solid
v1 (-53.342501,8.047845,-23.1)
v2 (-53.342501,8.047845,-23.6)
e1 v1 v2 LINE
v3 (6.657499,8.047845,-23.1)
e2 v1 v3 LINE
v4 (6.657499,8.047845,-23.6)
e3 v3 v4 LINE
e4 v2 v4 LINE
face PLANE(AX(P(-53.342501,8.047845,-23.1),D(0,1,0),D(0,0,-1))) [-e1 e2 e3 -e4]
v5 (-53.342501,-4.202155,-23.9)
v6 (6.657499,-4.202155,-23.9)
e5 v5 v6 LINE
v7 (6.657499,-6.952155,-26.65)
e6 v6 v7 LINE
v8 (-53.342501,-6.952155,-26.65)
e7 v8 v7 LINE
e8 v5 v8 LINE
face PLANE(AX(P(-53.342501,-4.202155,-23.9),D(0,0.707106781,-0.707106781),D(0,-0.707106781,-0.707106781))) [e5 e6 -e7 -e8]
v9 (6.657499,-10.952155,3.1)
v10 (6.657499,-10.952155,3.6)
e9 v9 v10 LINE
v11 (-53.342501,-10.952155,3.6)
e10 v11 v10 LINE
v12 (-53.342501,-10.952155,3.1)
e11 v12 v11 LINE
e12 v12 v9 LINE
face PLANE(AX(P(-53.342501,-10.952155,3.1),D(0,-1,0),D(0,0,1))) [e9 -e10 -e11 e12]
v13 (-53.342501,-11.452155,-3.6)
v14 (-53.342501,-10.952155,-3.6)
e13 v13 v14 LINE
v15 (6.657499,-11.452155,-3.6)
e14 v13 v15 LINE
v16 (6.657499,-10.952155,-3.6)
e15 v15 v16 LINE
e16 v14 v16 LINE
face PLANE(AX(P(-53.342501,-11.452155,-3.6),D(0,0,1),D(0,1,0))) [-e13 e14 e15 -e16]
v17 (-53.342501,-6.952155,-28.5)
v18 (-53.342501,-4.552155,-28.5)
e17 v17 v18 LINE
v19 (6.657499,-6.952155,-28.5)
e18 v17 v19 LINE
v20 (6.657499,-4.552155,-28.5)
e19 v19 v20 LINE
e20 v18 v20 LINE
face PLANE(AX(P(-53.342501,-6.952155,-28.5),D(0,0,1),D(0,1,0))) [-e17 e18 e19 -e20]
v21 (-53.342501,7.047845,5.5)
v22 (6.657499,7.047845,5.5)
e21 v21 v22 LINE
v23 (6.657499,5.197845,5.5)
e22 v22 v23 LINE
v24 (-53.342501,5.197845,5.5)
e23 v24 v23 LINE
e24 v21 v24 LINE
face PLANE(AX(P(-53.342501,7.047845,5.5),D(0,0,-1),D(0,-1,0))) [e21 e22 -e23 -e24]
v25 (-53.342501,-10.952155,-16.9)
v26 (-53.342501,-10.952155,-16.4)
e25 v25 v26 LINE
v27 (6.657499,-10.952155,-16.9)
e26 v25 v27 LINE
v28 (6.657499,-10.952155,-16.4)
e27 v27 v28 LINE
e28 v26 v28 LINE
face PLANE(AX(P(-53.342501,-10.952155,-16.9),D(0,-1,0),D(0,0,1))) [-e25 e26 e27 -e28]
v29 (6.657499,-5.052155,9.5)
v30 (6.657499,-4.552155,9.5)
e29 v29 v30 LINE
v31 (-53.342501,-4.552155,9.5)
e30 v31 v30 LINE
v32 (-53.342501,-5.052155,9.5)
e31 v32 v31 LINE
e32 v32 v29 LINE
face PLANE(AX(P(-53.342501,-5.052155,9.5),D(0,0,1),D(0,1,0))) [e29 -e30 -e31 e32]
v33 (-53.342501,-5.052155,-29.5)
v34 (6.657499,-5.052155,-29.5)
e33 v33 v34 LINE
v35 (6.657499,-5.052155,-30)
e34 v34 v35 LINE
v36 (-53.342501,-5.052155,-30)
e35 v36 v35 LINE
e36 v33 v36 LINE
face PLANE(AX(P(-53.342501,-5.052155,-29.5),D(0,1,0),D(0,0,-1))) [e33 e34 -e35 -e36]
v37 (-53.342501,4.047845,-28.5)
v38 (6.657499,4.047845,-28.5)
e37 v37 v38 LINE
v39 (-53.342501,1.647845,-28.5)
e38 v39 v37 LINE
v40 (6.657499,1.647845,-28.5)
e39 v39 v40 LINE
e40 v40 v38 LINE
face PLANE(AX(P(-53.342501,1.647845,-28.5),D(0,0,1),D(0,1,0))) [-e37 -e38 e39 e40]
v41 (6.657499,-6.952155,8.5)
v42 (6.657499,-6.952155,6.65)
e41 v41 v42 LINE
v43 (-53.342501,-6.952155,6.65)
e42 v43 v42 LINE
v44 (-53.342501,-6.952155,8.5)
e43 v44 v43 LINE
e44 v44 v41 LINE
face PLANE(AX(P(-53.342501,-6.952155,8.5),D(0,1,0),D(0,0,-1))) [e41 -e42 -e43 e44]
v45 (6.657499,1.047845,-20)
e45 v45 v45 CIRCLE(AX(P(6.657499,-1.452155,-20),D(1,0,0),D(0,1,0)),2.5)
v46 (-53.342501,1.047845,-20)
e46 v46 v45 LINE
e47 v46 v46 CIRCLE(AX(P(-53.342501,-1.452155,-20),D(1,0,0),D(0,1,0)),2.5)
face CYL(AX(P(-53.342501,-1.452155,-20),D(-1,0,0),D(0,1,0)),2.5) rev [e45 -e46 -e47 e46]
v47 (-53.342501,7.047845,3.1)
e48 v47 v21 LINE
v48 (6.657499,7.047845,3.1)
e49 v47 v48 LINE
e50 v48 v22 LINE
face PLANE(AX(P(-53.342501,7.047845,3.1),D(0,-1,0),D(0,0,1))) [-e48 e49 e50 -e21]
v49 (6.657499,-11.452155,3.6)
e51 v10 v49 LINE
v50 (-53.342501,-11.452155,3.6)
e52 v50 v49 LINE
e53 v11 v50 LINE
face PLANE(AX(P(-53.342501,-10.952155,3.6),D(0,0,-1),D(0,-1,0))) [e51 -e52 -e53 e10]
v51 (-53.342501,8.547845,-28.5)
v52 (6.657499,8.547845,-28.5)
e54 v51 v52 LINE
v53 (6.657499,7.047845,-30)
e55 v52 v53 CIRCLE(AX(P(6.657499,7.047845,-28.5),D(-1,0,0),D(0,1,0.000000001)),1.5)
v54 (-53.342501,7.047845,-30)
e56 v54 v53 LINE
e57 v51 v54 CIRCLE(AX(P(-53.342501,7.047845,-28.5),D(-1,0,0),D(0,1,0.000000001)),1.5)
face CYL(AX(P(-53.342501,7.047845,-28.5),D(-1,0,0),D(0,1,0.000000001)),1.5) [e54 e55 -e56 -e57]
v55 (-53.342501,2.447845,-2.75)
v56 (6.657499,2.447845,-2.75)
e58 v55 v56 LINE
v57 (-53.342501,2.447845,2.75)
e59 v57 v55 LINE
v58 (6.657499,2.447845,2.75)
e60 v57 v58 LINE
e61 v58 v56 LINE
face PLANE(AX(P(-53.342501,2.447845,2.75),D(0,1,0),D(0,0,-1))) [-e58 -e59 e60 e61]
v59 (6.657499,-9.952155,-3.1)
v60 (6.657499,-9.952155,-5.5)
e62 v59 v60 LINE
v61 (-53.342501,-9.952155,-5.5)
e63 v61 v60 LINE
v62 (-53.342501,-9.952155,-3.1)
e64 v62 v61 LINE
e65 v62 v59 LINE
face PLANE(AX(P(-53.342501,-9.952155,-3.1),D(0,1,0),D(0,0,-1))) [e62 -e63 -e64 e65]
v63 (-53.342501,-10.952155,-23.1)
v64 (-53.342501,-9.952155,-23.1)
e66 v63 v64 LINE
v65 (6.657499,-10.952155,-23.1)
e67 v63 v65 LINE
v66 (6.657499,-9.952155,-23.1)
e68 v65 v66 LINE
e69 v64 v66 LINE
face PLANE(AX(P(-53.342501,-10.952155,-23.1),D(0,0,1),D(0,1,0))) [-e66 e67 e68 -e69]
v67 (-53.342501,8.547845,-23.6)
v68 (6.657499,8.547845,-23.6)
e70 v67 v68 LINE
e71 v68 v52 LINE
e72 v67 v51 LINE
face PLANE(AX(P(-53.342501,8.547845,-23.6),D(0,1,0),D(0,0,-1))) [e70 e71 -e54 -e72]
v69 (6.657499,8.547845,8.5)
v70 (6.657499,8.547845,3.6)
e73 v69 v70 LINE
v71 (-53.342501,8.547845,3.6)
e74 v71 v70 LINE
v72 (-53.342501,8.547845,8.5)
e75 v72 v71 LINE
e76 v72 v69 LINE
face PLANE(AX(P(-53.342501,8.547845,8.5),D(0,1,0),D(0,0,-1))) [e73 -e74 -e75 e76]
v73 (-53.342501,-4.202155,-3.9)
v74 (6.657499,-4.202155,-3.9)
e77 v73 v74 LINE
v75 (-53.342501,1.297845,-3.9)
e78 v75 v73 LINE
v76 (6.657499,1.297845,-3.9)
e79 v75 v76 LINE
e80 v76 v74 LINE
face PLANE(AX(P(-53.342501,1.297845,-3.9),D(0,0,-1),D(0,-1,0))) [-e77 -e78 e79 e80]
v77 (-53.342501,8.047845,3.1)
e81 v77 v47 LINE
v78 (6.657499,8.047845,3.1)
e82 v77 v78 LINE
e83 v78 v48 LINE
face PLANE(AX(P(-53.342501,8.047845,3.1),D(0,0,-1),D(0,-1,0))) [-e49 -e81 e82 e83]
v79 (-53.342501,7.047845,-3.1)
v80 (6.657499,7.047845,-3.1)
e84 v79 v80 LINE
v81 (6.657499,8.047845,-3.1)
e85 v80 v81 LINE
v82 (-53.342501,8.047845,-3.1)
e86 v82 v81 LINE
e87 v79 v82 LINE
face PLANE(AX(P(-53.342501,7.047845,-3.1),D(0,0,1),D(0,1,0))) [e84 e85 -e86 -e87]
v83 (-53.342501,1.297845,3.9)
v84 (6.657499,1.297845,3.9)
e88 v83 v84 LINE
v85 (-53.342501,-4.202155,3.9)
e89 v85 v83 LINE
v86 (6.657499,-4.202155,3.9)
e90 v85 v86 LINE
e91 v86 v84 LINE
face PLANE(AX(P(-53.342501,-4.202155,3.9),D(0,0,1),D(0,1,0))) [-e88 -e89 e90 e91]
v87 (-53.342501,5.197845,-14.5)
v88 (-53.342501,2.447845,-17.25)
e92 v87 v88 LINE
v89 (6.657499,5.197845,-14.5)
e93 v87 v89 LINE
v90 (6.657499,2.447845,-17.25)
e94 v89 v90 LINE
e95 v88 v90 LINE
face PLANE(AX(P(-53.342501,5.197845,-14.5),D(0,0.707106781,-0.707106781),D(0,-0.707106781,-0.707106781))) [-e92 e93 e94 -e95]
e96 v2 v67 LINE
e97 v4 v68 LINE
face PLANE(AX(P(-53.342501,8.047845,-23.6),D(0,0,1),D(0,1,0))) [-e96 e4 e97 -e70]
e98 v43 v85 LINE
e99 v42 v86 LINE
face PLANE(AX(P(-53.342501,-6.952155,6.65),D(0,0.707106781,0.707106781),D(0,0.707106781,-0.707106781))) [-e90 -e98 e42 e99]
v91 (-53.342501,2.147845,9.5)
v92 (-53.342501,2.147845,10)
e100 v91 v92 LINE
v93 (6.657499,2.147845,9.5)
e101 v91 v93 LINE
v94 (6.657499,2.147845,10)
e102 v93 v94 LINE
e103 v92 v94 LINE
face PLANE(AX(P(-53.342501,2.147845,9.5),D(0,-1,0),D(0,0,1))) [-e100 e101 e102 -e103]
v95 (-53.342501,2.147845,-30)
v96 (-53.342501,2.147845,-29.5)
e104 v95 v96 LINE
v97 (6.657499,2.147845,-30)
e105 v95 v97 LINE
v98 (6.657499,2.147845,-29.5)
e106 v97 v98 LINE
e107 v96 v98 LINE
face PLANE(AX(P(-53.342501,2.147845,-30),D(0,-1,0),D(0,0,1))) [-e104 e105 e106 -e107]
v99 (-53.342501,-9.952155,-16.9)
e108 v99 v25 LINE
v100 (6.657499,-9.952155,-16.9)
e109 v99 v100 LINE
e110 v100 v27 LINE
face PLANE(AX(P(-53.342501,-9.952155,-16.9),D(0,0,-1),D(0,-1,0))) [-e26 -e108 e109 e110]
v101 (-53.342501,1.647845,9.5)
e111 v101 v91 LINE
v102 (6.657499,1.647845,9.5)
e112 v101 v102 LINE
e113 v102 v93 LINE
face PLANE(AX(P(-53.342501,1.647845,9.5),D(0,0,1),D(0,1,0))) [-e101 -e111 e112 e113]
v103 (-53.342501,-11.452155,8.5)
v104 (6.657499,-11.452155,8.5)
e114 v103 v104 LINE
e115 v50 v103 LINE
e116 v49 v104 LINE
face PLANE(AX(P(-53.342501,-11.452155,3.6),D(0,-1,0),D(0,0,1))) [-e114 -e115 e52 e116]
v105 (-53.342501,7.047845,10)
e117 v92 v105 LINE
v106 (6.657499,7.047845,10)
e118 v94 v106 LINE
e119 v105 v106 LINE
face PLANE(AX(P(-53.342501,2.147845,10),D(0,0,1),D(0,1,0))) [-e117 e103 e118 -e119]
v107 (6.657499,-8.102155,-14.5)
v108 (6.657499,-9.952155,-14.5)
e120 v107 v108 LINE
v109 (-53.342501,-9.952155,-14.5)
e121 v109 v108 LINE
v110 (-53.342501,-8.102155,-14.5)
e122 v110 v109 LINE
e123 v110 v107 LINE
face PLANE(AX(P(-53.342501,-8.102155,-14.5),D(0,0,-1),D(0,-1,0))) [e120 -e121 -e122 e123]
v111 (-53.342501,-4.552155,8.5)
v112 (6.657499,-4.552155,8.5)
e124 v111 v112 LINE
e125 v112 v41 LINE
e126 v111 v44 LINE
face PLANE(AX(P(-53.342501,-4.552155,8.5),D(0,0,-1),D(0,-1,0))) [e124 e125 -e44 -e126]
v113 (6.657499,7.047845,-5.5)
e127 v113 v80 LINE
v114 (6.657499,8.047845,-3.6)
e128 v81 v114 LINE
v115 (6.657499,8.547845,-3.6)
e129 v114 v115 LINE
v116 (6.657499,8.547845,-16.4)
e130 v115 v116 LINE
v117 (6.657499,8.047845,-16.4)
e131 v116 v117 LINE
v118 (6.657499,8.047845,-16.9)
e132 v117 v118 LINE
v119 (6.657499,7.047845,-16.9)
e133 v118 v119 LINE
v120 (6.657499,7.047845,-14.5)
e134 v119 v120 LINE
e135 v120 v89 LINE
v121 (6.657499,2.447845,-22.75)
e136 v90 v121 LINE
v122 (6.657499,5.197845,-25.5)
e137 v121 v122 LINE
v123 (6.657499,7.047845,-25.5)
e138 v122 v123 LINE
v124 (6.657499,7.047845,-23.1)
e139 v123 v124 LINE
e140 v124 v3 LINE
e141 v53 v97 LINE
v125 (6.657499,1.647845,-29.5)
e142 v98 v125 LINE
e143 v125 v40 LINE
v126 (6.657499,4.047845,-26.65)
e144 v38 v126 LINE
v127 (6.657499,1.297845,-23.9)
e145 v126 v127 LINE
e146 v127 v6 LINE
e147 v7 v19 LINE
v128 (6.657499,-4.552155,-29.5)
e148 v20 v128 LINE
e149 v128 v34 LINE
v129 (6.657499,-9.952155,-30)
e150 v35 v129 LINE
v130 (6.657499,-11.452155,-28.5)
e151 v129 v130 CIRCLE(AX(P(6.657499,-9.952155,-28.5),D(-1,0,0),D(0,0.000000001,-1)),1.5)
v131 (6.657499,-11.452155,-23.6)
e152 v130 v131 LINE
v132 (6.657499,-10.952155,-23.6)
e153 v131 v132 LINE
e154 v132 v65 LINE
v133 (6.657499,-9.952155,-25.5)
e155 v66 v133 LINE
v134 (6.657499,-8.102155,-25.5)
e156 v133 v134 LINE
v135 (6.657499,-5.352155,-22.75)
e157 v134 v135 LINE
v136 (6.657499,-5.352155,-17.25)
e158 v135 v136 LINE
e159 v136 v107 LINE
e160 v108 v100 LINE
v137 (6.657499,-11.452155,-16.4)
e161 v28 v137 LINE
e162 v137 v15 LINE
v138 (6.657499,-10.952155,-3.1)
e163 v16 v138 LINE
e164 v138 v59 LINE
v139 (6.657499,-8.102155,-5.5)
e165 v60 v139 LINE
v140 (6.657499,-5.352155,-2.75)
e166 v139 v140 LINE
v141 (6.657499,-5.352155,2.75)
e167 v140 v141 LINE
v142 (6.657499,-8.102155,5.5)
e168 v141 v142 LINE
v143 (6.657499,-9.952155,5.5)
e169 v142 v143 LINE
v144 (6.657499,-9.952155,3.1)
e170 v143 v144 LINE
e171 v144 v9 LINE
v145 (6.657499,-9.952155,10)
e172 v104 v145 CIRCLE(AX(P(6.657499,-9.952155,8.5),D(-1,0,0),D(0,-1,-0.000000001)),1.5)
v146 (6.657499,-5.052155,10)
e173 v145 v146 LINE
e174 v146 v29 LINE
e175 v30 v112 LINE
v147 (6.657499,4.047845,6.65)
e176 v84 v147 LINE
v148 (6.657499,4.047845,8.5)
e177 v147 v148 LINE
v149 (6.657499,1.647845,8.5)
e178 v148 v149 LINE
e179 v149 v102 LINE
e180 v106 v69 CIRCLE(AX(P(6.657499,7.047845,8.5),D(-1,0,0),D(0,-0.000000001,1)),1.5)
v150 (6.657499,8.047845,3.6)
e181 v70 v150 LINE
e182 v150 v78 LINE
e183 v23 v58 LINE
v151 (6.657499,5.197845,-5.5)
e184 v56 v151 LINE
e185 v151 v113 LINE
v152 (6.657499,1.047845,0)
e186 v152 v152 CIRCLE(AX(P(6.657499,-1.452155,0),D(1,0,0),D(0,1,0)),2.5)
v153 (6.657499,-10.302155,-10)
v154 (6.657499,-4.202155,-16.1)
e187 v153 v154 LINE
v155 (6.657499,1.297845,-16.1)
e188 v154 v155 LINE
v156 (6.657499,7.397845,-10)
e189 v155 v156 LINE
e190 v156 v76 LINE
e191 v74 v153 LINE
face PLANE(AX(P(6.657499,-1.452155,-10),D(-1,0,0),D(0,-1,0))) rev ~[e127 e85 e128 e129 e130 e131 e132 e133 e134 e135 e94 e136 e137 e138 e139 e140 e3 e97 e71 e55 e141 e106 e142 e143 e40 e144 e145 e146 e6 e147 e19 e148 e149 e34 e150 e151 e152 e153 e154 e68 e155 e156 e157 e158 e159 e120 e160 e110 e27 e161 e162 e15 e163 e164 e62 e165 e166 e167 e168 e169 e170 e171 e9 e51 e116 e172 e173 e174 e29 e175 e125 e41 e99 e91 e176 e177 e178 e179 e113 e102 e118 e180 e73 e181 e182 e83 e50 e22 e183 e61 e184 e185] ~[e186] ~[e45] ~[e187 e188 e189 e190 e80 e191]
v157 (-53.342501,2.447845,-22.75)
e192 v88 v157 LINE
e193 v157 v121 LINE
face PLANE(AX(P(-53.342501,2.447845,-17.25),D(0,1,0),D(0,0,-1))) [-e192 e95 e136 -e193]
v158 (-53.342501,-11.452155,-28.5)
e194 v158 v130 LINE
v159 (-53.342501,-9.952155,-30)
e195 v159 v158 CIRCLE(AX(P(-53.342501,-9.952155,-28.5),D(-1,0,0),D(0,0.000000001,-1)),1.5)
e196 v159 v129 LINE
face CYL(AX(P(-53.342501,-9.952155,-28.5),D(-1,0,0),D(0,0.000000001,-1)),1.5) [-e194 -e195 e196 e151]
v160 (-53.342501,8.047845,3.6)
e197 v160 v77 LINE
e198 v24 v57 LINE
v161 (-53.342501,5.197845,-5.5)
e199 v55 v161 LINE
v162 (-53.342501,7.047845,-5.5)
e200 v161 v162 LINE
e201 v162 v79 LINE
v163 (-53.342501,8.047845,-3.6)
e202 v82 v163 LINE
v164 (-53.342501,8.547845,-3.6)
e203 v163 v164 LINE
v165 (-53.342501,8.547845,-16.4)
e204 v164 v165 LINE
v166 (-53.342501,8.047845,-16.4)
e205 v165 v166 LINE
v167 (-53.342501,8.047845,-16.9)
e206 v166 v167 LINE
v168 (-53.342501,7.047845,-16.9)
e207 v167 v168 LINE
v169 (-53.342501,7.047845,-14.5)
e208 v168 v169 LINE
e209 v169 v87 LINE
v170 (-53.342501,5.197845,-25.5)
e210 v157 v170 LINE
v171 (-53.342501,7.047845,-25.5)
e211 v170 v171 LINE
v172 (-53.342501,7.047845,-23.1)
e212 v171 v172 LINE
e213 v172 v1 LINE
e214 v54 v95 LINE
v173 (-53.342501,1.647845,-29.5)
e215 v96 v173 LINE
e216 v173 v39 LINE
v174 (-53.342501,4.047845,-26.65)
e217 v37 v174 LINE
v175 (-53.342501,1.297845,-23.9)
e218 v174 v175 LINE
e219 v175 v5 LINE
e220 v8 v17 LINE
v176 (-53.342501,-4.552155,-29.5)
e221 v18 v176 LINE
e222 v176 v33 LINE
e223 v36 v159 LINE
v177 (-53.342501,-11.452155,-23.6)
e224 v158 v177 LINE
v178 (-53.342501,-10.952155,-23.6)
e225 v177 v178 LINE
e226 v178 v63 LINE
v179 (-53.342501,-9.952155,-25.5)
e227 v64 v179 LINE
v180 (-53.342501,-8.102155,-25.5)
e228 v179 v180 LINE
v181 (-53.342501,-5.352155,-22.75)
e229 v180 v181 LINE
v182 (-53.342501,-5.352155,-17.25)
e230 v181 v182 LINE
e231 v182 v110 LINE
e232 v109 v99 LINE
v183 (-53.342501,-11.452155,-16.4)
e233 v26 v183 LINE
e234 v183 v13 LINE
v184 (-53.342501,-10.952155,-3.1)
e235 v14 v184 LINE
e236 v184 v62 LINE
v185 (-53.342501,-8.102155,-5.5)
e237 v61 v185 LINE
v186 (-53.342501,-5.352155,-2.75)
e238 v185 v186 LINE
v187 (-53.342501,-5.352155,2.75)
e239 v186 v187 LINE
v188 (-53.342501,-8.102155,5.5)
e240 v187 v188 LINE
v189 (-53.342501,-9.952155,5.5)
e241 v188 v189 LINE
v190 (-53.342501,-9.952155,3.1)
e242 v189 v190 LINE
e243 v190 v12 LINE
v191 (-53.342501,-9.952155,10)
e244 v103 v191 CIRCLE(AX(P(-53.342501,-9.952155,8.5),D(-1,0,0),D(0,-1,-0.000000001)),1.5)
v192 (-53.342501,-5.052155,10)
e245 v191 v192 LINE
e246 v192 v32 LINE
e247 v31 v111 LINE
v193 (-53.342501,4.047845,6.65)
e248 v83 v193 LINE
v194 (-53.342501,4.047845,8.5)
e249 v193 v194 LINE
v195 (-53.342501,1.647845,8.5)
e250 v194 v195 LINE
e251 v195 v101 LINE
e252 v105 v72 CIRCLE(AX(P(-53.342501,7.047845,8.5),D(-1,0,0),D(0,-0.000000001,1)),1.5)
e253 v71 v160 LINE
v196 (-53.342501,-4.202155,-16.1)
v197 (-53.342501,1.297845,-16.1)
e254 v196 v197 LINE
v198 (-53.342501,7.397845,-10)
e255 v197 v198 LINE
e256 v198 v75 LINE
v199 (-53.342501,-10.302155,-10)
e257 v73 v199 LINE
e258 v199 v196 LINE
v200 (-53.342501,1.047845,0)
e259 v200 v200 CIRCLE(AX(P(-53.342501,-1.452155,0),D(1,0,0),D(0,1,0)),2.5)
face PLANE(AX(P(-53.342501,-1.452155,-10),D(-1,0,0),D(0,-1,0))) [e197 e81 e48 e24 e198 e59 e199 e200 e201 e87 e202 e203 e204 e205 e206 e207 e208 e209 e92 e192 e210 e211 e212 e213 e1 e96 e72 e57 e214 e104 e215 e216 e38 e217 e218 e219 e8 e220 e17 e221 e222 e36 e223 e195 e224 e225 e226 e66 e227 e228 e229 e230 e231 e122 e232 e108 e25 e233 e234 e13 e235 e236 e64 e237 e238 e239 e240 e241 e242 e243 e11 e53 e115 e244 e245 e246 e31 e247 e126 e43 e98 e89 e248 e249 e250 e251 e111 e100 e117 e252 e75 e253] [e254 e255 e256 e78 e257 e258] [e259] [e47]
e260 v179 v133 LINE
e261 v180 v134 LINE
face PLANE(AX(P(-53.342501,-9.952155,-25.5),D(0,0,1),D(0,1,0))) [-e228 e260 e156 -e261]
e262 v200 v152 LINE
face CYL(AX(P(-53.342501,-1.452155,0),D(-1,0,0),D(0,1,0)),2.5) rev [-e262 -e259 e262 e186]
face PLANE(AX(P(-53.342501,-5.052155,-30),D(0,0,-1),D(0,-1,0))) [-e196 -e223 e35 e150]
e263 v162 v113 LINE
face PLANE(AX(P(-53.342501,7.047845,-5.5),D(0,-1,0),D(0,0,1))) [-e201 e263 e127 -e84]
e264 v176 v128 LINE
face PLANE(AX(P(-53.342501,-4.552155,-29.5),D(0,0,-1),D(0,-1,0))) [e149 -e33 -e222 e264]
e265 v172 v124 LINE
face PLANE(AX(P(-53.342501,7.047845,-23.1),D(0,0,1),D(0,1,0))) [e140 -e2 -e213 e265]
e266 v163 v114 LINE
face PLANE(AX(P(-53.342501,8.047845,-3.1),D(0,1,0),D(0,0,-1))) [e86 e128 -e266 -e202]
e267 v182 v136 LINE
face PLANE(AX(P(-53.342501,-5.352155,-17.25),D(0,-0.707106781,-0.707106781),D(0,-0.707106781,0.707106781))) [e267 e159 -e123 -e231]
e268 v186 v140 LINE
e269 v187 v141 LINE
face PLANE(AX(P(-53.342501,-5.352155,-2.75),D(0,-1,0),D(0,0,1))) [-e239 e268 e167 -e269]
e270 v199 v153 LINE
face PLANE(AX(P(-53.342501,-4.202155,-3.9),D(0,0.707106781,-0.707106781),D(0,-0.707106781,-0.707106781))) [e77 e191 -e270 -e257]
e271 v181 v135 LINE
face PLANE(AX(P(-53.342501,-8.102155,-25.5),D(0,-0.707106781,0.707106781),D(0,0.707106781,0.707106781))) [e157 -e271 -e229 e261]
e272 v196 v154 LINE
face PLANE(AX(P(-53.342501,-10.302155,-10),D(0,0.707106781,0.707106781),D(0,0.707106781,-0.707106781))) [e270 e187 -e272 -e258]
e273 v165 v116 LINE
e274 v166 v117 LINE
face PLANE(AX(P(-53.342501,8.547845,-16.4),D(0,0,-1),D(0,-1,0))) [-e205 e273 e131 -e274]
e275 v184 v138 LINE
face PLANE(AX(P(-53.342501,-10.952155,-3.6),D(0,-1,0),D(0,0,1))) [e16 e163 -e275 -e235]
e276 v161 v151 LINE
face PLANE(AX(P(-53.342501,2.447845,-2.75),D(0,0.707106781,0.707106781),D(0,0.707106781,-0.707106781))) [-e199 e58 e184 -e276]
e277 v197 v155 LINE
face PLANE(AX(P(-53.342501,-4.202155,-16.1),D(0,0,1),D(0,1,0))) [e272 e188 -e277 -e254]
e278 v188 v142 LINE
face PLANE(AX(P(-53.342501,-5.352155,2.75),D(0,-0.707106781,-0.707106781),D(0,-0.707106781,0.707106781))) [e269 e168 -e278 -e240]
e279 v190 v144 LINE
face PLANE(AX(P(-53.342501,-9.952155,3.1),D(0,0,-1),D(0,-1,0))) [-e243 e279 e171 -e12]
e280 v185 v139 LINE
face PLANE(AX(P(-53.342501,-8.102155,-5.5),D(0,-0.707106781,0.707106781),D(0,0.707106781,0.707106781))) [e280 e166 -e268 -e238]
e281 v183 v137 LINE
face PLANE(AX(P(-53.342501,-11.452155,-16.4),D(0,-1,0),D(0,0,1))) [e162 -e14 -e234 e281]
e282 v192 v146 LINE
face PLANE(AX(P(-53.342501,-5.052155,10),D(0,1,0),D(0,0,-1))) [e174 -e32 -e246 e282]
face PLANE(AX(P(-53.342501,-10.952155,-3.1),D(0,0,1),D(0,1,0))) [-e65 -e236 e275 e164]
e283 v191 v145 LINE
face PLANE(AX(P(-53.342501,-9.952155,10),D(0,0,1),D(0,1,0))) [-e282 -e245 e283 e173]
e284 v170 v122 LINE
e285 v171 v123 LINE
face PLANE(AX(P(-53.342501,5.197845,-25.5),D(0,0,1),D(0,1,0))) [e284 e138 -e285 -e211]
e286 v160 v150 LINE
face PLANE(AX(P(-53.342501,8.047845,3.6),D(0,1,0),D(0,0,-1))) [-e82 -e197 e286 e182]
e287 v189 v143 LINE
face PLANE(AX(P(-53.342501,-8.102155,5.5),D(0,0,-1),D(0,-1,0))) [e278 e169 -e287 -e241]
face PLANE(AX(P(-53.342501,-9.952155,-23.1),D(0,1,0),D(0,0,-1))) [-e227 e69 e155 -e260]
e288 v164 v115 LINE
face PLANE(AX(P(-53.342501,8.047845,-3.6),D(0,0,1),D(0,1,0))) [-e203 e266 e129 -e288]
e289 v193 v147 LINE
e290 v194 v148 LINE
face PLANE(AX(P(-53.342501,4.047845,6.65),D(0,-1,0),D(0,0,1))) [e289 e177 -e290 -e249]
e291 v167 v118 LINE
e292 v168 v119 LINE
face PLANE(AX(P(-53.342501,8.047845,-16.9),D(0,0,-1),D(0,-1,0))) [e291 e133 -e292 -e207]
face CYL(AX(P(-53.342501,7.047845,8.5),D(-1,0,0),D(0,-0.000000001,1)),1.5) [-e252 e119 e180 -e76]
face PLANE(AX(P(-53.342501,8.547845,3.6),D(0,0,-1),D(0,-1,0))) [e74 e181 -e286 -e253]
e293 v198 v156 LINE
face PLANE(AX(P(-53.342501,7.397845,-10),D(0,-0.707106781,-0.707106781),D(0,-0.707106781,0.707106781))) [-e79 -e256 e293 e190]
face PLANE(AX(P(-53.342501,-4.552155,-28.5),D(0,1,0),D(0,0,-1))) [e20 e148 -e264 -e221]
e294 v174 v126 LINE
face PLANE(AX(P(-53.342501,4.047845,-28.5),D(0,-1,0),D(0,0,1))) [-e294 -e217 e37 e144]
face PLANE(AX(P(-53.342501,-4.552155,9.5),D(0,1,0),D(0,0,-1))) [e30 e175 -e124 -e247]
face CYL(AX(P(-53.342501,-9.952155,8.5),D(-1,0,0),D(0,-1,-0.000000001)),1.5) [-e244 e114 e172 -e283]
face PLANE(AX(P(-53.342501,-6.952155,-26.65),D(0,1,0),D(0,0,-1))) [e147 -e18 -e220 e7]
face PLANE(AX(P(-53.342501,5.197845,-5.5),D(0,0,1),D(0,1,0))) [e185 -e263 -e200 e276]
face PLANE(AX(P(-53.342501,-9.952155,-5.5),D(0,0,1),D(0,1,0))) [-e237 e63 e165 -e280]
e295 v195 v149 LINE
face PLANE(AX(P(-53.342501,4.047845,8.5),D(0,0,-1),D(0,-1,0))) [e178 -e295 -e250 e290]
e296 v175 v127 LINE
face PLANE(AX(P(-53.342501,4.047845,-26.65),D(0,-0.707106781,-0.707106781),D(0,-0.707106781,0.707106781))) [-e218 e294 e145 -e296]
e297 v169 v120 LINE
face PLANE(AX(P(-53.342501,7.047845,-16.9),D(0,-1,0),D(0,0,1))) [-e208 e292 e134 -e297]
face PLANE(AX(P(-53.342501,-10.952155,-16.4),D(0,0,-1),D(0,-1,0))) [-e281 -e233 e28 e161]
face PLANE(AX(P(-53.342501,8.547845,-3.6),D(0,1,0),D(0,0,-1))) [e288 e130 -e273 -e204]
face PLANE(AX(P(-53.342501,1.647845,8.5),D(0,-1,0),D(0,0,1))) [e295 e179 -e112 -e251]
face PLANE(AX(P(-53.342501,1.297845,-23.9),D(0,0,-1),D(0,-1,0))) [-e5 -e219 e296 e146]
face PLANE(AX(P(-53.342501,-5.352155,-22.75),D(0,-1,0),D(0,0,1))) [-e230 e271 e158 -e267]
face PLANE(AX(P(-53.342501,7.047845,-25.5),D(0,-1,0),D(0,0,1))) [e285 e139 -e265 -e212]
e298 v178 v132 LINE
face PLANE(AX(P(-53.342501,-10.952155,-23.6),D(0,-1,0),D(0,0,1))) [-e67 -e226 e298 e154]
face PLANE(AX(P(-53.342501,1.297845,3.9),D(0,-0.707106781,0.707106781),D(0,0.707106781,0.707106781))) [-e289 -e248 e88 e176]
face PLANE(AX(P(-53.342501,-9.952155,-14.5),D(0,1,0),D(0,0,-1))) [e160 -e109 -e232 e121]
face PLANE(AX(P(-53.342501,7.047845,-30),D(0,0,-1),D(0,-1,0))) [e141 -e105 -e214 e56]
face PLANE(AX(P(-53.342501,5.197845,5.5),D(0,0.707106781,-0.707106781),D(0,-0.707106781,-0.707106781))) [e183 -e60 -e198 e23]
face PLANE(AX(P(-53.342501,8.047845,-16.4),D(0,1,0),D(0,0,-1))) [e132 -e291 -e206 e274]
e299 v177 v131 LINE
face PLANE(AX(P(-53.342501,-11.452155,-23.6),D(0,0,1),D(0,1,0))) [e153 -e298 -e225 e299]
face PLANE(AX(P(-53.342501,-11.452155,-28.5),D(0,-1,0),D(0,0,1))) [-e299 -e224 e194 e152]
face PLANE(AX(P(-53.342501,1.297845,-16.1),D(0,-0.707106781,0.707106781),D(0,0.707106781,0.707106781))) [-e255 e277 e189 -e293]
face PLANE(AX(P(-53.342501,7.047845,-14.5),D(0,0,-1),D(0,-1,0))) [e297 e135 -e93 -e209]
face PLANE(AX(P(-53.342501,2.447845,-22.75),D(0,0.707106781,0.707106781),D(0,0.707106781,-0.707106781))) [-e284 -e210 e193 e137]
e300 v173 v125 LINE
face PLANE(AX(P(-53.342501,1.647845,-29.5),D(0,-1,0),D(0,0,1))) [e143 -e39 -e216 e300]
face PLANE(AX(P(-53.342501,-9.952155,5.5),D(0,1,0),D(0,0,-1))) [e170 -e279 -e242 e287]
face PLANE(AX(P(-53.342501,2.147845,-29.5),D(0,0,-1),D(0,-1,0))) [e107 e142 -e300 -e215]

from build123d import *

# Parameters (mm, degrees)
SKETCH16_R           = 2.5
F_20X40XR1_5_2_DEPTH = 60


with BuildPart() as part:
    # Sketch16 → 铝型材 20X40XR1.5(2) (new body)
    with BuildSketch(Plane(origin=(-53.342500755, -1.452155193, 0), x_dir=(0, 1, 0), z_dir=(1, 0, 0))):
        with BuildLine():
            Line((-3.6, 10), (-3.6, 9.5))
            Line((-3.6, 9.5), (-3.1, 9.5))
            Line((-3.1, 9.5), (-3.1, 8.5))
            Line((-3.1, 8.5), (-5.5, 8.5))
            Line((-5.5, 8.5), (-5.5, 6.65))
            Line((-5.5, 6.65), (-2.75, 3.9))
            Line((-2.75, 3.9), (2.75, 3.9))
            Line((2.75, 3.9), (5.5, 6.65))
            Line((5.5, 6.65), (5.5, 8.5))
            Line((5.5, 8.5), (3.1, 8.5))
            Line((3.1, 8.5), (3.1, 9.5))
            Line((3.1, 9.5), (3.6, 9.5))
            Line((3.6, 9.5), (3.6, 10))
            Line((3.6, 10), (8.5, 10))
            ThreePointArc((8.5, 10), (9.560660172, 9.560660172), (10, 8.5))
            Line((10, 8.5), (10, 3.6))
            Line((10, 3.6), (9.5, 3.6))
            Line((9.5, 3.6), (9.5, 3.1))
            Line((9.5, 3.1), (8.5, 3.1))
            Line((8.5, 3.1), (8.5, 5.5))
            Line((8.5, 5.5), (6.65, 5.5))
            Line((6.65, 5.5), (3.9, 2.75))
            Line((3.9, 2.75), (3.9, -2.75))
            Line((3.9, -2.75), (6.65, -5.5))
            Line((6.65, -5.5), (8.5, -5.5))
            Line((8.5, -5.5), (8.5, -3.1))
            Line((8.5, -3.1), (9.5, -3.1))
            Line((9.5, -3.1), (9.5, -3.6))
            Line((9.5, -3.6), (10, -3.6))
            Line((10, -3.6), (10, -16.4))
            Line((10, -16.4), (9.5, -16.4))
            Line((9.5, -16.4), (9.5, -16.9))
            Line((9.5, -16.9), (8.5, -16.9))
            Line((8.5, -16.9), (8.5, -14.5))
            Line((8.5, -14.5), (6.65, -14.5))
            Line((6.65, -14.5), (3.9, -17.25))
            Line((3.9, -17.25), (3.9, -22.75))
            Line((3.9, -22.75), (6.65, -25.5))
            Line((6.65, -25.5), (8.5, -25.5))
            Line((8.5, -25.5), (8.5, -23.1))
            Line((8.5, -23.1), (9.5, -23.1))
            Line((9.5, -23.1), (9.5, -23.6))
            Line((9.5, -23.6), (10, -23.6))
            Line((10, -23.6), (10, -28.5))
            ThreePointArc((10, -28.5), (9.560660172, -29.560660172), (8.5, -30))
            Line((8.5, -30), (3.6, -30))
            Line((3.6, -30), (3.6, -29.5))
            Line((3.6, -29.5), (3.1, -29.5))
            Line((3.1, -29.5), (3.1, -28.5))
            Line((3.1, -28.5), (5.5, -28.5))
            Line((5.5, -28.5), (5.5, -26.65))
            Line((5.5, -26.65), (2.75, -23.9))
            Line((2.75, -23.9), (-2.75, -23.9))
            Line((-2.75, -23.9), (-5.5, -26.65))
            Line((-5.5, -26.65), (-5.5, -28.5))
            Line((-5.5, -28.5), (-3.1, -28.5))
            Line((-3.1, -28.5), (-3.1, -29.5))
            Line((-3.1, -29.5), (-3.6, -29.5))
            Line((-3.6, -29.5), (-3.6, -30))
            Line((-3.6, -30), (-8.5, -30))
            ThreePointArc((-8.5, -30), (-9.560660172, -29.560660172), (-10, -28.5))
            Line((-10, -28.5), (-10, -23.6))
            Line((-10, -23.6), (-9.5, -23.6))
            Line((-9.5, -23.6), (-9.5, -23.1))
            Line((-9.5, -23.1), (-8.5, -23.1))
            Line((-8.5, -23.1), (-8.5, -25.5))
            Line((-8.5, -25.5), (-6.65, -25.5))
            Line((-6.65, -25.5), (-3.9, -22.75))
            Line((-3.9, -22.75), (-3.9, -17.25))
            Line((-3.9, -17.25), (-6.65, -14.5))
            Line((-6.65, -14.5), (-8.5, -14.5))
            Line((-8.5, -14.5), (-8.5, -16.9))
            Line((-8.5, -16.9), (-9.5, -16.9))
            Line((-9.5, -16.9), (-9.5, -16.4))
            Line((-9.5, -16.4), (-10, -16.4))
            Line((-10, -16.4), (-10, -3.6))
            Line((-10, -3.6), (-9.5, -3.6))
            Line((-9.5, -3.6), (-9.5, -3.1))
            Line((-9.5, -3.1), (-8.5, -3.1))
            Line((-8.5, -3.1), (-8.5, -5.5))
            Line((-8.5, -5.5), (-6.65, -5.5))
            Line((-6.65, -5.5), (-3.9, -2.75))
            Line((-3.9, -2.75), (-3.9, 2.75))
            Line((-3.9, 2.75), (-6.65, 5.5))
            Line((-6.65, 5.5), (-8.5, 5.5))
            Line((-8.5, 5.5), (-8.5, 3.1))
            Line((-8.5, 3.1), (-9.5, 3.1))
            Line((-9.5, 3.1), (-9.5, 3.6))
            Line((-9.5, 3.6), (-10, 3.6))
            Line((-10, 3.6), (-10, 8.5))
            ThreePointArc((-10, 8.5), (-9.560660172, 9.560660172), (-8.5, 10))
            Line((-8.5, 10), (-3.6, 10))
        make_face()
        Circle(SKETCH16_R, mode=Mode.SUBTRACT)
        with Locations((0, -20)):
            Circle(SKETCH16_R, mode=Mode.SUBTRACT)
        Polygon((8.85, -10), (2.75, -3.9), (-2.75, -3.9), (-8.85, -10), (-2.75, -16.1), (2.75, -16.1), align=None, mode=Mode.SUBTRACT)
    extrude(amount=F_20X40XR1_5_2_DEPTH)


solid = part.part
